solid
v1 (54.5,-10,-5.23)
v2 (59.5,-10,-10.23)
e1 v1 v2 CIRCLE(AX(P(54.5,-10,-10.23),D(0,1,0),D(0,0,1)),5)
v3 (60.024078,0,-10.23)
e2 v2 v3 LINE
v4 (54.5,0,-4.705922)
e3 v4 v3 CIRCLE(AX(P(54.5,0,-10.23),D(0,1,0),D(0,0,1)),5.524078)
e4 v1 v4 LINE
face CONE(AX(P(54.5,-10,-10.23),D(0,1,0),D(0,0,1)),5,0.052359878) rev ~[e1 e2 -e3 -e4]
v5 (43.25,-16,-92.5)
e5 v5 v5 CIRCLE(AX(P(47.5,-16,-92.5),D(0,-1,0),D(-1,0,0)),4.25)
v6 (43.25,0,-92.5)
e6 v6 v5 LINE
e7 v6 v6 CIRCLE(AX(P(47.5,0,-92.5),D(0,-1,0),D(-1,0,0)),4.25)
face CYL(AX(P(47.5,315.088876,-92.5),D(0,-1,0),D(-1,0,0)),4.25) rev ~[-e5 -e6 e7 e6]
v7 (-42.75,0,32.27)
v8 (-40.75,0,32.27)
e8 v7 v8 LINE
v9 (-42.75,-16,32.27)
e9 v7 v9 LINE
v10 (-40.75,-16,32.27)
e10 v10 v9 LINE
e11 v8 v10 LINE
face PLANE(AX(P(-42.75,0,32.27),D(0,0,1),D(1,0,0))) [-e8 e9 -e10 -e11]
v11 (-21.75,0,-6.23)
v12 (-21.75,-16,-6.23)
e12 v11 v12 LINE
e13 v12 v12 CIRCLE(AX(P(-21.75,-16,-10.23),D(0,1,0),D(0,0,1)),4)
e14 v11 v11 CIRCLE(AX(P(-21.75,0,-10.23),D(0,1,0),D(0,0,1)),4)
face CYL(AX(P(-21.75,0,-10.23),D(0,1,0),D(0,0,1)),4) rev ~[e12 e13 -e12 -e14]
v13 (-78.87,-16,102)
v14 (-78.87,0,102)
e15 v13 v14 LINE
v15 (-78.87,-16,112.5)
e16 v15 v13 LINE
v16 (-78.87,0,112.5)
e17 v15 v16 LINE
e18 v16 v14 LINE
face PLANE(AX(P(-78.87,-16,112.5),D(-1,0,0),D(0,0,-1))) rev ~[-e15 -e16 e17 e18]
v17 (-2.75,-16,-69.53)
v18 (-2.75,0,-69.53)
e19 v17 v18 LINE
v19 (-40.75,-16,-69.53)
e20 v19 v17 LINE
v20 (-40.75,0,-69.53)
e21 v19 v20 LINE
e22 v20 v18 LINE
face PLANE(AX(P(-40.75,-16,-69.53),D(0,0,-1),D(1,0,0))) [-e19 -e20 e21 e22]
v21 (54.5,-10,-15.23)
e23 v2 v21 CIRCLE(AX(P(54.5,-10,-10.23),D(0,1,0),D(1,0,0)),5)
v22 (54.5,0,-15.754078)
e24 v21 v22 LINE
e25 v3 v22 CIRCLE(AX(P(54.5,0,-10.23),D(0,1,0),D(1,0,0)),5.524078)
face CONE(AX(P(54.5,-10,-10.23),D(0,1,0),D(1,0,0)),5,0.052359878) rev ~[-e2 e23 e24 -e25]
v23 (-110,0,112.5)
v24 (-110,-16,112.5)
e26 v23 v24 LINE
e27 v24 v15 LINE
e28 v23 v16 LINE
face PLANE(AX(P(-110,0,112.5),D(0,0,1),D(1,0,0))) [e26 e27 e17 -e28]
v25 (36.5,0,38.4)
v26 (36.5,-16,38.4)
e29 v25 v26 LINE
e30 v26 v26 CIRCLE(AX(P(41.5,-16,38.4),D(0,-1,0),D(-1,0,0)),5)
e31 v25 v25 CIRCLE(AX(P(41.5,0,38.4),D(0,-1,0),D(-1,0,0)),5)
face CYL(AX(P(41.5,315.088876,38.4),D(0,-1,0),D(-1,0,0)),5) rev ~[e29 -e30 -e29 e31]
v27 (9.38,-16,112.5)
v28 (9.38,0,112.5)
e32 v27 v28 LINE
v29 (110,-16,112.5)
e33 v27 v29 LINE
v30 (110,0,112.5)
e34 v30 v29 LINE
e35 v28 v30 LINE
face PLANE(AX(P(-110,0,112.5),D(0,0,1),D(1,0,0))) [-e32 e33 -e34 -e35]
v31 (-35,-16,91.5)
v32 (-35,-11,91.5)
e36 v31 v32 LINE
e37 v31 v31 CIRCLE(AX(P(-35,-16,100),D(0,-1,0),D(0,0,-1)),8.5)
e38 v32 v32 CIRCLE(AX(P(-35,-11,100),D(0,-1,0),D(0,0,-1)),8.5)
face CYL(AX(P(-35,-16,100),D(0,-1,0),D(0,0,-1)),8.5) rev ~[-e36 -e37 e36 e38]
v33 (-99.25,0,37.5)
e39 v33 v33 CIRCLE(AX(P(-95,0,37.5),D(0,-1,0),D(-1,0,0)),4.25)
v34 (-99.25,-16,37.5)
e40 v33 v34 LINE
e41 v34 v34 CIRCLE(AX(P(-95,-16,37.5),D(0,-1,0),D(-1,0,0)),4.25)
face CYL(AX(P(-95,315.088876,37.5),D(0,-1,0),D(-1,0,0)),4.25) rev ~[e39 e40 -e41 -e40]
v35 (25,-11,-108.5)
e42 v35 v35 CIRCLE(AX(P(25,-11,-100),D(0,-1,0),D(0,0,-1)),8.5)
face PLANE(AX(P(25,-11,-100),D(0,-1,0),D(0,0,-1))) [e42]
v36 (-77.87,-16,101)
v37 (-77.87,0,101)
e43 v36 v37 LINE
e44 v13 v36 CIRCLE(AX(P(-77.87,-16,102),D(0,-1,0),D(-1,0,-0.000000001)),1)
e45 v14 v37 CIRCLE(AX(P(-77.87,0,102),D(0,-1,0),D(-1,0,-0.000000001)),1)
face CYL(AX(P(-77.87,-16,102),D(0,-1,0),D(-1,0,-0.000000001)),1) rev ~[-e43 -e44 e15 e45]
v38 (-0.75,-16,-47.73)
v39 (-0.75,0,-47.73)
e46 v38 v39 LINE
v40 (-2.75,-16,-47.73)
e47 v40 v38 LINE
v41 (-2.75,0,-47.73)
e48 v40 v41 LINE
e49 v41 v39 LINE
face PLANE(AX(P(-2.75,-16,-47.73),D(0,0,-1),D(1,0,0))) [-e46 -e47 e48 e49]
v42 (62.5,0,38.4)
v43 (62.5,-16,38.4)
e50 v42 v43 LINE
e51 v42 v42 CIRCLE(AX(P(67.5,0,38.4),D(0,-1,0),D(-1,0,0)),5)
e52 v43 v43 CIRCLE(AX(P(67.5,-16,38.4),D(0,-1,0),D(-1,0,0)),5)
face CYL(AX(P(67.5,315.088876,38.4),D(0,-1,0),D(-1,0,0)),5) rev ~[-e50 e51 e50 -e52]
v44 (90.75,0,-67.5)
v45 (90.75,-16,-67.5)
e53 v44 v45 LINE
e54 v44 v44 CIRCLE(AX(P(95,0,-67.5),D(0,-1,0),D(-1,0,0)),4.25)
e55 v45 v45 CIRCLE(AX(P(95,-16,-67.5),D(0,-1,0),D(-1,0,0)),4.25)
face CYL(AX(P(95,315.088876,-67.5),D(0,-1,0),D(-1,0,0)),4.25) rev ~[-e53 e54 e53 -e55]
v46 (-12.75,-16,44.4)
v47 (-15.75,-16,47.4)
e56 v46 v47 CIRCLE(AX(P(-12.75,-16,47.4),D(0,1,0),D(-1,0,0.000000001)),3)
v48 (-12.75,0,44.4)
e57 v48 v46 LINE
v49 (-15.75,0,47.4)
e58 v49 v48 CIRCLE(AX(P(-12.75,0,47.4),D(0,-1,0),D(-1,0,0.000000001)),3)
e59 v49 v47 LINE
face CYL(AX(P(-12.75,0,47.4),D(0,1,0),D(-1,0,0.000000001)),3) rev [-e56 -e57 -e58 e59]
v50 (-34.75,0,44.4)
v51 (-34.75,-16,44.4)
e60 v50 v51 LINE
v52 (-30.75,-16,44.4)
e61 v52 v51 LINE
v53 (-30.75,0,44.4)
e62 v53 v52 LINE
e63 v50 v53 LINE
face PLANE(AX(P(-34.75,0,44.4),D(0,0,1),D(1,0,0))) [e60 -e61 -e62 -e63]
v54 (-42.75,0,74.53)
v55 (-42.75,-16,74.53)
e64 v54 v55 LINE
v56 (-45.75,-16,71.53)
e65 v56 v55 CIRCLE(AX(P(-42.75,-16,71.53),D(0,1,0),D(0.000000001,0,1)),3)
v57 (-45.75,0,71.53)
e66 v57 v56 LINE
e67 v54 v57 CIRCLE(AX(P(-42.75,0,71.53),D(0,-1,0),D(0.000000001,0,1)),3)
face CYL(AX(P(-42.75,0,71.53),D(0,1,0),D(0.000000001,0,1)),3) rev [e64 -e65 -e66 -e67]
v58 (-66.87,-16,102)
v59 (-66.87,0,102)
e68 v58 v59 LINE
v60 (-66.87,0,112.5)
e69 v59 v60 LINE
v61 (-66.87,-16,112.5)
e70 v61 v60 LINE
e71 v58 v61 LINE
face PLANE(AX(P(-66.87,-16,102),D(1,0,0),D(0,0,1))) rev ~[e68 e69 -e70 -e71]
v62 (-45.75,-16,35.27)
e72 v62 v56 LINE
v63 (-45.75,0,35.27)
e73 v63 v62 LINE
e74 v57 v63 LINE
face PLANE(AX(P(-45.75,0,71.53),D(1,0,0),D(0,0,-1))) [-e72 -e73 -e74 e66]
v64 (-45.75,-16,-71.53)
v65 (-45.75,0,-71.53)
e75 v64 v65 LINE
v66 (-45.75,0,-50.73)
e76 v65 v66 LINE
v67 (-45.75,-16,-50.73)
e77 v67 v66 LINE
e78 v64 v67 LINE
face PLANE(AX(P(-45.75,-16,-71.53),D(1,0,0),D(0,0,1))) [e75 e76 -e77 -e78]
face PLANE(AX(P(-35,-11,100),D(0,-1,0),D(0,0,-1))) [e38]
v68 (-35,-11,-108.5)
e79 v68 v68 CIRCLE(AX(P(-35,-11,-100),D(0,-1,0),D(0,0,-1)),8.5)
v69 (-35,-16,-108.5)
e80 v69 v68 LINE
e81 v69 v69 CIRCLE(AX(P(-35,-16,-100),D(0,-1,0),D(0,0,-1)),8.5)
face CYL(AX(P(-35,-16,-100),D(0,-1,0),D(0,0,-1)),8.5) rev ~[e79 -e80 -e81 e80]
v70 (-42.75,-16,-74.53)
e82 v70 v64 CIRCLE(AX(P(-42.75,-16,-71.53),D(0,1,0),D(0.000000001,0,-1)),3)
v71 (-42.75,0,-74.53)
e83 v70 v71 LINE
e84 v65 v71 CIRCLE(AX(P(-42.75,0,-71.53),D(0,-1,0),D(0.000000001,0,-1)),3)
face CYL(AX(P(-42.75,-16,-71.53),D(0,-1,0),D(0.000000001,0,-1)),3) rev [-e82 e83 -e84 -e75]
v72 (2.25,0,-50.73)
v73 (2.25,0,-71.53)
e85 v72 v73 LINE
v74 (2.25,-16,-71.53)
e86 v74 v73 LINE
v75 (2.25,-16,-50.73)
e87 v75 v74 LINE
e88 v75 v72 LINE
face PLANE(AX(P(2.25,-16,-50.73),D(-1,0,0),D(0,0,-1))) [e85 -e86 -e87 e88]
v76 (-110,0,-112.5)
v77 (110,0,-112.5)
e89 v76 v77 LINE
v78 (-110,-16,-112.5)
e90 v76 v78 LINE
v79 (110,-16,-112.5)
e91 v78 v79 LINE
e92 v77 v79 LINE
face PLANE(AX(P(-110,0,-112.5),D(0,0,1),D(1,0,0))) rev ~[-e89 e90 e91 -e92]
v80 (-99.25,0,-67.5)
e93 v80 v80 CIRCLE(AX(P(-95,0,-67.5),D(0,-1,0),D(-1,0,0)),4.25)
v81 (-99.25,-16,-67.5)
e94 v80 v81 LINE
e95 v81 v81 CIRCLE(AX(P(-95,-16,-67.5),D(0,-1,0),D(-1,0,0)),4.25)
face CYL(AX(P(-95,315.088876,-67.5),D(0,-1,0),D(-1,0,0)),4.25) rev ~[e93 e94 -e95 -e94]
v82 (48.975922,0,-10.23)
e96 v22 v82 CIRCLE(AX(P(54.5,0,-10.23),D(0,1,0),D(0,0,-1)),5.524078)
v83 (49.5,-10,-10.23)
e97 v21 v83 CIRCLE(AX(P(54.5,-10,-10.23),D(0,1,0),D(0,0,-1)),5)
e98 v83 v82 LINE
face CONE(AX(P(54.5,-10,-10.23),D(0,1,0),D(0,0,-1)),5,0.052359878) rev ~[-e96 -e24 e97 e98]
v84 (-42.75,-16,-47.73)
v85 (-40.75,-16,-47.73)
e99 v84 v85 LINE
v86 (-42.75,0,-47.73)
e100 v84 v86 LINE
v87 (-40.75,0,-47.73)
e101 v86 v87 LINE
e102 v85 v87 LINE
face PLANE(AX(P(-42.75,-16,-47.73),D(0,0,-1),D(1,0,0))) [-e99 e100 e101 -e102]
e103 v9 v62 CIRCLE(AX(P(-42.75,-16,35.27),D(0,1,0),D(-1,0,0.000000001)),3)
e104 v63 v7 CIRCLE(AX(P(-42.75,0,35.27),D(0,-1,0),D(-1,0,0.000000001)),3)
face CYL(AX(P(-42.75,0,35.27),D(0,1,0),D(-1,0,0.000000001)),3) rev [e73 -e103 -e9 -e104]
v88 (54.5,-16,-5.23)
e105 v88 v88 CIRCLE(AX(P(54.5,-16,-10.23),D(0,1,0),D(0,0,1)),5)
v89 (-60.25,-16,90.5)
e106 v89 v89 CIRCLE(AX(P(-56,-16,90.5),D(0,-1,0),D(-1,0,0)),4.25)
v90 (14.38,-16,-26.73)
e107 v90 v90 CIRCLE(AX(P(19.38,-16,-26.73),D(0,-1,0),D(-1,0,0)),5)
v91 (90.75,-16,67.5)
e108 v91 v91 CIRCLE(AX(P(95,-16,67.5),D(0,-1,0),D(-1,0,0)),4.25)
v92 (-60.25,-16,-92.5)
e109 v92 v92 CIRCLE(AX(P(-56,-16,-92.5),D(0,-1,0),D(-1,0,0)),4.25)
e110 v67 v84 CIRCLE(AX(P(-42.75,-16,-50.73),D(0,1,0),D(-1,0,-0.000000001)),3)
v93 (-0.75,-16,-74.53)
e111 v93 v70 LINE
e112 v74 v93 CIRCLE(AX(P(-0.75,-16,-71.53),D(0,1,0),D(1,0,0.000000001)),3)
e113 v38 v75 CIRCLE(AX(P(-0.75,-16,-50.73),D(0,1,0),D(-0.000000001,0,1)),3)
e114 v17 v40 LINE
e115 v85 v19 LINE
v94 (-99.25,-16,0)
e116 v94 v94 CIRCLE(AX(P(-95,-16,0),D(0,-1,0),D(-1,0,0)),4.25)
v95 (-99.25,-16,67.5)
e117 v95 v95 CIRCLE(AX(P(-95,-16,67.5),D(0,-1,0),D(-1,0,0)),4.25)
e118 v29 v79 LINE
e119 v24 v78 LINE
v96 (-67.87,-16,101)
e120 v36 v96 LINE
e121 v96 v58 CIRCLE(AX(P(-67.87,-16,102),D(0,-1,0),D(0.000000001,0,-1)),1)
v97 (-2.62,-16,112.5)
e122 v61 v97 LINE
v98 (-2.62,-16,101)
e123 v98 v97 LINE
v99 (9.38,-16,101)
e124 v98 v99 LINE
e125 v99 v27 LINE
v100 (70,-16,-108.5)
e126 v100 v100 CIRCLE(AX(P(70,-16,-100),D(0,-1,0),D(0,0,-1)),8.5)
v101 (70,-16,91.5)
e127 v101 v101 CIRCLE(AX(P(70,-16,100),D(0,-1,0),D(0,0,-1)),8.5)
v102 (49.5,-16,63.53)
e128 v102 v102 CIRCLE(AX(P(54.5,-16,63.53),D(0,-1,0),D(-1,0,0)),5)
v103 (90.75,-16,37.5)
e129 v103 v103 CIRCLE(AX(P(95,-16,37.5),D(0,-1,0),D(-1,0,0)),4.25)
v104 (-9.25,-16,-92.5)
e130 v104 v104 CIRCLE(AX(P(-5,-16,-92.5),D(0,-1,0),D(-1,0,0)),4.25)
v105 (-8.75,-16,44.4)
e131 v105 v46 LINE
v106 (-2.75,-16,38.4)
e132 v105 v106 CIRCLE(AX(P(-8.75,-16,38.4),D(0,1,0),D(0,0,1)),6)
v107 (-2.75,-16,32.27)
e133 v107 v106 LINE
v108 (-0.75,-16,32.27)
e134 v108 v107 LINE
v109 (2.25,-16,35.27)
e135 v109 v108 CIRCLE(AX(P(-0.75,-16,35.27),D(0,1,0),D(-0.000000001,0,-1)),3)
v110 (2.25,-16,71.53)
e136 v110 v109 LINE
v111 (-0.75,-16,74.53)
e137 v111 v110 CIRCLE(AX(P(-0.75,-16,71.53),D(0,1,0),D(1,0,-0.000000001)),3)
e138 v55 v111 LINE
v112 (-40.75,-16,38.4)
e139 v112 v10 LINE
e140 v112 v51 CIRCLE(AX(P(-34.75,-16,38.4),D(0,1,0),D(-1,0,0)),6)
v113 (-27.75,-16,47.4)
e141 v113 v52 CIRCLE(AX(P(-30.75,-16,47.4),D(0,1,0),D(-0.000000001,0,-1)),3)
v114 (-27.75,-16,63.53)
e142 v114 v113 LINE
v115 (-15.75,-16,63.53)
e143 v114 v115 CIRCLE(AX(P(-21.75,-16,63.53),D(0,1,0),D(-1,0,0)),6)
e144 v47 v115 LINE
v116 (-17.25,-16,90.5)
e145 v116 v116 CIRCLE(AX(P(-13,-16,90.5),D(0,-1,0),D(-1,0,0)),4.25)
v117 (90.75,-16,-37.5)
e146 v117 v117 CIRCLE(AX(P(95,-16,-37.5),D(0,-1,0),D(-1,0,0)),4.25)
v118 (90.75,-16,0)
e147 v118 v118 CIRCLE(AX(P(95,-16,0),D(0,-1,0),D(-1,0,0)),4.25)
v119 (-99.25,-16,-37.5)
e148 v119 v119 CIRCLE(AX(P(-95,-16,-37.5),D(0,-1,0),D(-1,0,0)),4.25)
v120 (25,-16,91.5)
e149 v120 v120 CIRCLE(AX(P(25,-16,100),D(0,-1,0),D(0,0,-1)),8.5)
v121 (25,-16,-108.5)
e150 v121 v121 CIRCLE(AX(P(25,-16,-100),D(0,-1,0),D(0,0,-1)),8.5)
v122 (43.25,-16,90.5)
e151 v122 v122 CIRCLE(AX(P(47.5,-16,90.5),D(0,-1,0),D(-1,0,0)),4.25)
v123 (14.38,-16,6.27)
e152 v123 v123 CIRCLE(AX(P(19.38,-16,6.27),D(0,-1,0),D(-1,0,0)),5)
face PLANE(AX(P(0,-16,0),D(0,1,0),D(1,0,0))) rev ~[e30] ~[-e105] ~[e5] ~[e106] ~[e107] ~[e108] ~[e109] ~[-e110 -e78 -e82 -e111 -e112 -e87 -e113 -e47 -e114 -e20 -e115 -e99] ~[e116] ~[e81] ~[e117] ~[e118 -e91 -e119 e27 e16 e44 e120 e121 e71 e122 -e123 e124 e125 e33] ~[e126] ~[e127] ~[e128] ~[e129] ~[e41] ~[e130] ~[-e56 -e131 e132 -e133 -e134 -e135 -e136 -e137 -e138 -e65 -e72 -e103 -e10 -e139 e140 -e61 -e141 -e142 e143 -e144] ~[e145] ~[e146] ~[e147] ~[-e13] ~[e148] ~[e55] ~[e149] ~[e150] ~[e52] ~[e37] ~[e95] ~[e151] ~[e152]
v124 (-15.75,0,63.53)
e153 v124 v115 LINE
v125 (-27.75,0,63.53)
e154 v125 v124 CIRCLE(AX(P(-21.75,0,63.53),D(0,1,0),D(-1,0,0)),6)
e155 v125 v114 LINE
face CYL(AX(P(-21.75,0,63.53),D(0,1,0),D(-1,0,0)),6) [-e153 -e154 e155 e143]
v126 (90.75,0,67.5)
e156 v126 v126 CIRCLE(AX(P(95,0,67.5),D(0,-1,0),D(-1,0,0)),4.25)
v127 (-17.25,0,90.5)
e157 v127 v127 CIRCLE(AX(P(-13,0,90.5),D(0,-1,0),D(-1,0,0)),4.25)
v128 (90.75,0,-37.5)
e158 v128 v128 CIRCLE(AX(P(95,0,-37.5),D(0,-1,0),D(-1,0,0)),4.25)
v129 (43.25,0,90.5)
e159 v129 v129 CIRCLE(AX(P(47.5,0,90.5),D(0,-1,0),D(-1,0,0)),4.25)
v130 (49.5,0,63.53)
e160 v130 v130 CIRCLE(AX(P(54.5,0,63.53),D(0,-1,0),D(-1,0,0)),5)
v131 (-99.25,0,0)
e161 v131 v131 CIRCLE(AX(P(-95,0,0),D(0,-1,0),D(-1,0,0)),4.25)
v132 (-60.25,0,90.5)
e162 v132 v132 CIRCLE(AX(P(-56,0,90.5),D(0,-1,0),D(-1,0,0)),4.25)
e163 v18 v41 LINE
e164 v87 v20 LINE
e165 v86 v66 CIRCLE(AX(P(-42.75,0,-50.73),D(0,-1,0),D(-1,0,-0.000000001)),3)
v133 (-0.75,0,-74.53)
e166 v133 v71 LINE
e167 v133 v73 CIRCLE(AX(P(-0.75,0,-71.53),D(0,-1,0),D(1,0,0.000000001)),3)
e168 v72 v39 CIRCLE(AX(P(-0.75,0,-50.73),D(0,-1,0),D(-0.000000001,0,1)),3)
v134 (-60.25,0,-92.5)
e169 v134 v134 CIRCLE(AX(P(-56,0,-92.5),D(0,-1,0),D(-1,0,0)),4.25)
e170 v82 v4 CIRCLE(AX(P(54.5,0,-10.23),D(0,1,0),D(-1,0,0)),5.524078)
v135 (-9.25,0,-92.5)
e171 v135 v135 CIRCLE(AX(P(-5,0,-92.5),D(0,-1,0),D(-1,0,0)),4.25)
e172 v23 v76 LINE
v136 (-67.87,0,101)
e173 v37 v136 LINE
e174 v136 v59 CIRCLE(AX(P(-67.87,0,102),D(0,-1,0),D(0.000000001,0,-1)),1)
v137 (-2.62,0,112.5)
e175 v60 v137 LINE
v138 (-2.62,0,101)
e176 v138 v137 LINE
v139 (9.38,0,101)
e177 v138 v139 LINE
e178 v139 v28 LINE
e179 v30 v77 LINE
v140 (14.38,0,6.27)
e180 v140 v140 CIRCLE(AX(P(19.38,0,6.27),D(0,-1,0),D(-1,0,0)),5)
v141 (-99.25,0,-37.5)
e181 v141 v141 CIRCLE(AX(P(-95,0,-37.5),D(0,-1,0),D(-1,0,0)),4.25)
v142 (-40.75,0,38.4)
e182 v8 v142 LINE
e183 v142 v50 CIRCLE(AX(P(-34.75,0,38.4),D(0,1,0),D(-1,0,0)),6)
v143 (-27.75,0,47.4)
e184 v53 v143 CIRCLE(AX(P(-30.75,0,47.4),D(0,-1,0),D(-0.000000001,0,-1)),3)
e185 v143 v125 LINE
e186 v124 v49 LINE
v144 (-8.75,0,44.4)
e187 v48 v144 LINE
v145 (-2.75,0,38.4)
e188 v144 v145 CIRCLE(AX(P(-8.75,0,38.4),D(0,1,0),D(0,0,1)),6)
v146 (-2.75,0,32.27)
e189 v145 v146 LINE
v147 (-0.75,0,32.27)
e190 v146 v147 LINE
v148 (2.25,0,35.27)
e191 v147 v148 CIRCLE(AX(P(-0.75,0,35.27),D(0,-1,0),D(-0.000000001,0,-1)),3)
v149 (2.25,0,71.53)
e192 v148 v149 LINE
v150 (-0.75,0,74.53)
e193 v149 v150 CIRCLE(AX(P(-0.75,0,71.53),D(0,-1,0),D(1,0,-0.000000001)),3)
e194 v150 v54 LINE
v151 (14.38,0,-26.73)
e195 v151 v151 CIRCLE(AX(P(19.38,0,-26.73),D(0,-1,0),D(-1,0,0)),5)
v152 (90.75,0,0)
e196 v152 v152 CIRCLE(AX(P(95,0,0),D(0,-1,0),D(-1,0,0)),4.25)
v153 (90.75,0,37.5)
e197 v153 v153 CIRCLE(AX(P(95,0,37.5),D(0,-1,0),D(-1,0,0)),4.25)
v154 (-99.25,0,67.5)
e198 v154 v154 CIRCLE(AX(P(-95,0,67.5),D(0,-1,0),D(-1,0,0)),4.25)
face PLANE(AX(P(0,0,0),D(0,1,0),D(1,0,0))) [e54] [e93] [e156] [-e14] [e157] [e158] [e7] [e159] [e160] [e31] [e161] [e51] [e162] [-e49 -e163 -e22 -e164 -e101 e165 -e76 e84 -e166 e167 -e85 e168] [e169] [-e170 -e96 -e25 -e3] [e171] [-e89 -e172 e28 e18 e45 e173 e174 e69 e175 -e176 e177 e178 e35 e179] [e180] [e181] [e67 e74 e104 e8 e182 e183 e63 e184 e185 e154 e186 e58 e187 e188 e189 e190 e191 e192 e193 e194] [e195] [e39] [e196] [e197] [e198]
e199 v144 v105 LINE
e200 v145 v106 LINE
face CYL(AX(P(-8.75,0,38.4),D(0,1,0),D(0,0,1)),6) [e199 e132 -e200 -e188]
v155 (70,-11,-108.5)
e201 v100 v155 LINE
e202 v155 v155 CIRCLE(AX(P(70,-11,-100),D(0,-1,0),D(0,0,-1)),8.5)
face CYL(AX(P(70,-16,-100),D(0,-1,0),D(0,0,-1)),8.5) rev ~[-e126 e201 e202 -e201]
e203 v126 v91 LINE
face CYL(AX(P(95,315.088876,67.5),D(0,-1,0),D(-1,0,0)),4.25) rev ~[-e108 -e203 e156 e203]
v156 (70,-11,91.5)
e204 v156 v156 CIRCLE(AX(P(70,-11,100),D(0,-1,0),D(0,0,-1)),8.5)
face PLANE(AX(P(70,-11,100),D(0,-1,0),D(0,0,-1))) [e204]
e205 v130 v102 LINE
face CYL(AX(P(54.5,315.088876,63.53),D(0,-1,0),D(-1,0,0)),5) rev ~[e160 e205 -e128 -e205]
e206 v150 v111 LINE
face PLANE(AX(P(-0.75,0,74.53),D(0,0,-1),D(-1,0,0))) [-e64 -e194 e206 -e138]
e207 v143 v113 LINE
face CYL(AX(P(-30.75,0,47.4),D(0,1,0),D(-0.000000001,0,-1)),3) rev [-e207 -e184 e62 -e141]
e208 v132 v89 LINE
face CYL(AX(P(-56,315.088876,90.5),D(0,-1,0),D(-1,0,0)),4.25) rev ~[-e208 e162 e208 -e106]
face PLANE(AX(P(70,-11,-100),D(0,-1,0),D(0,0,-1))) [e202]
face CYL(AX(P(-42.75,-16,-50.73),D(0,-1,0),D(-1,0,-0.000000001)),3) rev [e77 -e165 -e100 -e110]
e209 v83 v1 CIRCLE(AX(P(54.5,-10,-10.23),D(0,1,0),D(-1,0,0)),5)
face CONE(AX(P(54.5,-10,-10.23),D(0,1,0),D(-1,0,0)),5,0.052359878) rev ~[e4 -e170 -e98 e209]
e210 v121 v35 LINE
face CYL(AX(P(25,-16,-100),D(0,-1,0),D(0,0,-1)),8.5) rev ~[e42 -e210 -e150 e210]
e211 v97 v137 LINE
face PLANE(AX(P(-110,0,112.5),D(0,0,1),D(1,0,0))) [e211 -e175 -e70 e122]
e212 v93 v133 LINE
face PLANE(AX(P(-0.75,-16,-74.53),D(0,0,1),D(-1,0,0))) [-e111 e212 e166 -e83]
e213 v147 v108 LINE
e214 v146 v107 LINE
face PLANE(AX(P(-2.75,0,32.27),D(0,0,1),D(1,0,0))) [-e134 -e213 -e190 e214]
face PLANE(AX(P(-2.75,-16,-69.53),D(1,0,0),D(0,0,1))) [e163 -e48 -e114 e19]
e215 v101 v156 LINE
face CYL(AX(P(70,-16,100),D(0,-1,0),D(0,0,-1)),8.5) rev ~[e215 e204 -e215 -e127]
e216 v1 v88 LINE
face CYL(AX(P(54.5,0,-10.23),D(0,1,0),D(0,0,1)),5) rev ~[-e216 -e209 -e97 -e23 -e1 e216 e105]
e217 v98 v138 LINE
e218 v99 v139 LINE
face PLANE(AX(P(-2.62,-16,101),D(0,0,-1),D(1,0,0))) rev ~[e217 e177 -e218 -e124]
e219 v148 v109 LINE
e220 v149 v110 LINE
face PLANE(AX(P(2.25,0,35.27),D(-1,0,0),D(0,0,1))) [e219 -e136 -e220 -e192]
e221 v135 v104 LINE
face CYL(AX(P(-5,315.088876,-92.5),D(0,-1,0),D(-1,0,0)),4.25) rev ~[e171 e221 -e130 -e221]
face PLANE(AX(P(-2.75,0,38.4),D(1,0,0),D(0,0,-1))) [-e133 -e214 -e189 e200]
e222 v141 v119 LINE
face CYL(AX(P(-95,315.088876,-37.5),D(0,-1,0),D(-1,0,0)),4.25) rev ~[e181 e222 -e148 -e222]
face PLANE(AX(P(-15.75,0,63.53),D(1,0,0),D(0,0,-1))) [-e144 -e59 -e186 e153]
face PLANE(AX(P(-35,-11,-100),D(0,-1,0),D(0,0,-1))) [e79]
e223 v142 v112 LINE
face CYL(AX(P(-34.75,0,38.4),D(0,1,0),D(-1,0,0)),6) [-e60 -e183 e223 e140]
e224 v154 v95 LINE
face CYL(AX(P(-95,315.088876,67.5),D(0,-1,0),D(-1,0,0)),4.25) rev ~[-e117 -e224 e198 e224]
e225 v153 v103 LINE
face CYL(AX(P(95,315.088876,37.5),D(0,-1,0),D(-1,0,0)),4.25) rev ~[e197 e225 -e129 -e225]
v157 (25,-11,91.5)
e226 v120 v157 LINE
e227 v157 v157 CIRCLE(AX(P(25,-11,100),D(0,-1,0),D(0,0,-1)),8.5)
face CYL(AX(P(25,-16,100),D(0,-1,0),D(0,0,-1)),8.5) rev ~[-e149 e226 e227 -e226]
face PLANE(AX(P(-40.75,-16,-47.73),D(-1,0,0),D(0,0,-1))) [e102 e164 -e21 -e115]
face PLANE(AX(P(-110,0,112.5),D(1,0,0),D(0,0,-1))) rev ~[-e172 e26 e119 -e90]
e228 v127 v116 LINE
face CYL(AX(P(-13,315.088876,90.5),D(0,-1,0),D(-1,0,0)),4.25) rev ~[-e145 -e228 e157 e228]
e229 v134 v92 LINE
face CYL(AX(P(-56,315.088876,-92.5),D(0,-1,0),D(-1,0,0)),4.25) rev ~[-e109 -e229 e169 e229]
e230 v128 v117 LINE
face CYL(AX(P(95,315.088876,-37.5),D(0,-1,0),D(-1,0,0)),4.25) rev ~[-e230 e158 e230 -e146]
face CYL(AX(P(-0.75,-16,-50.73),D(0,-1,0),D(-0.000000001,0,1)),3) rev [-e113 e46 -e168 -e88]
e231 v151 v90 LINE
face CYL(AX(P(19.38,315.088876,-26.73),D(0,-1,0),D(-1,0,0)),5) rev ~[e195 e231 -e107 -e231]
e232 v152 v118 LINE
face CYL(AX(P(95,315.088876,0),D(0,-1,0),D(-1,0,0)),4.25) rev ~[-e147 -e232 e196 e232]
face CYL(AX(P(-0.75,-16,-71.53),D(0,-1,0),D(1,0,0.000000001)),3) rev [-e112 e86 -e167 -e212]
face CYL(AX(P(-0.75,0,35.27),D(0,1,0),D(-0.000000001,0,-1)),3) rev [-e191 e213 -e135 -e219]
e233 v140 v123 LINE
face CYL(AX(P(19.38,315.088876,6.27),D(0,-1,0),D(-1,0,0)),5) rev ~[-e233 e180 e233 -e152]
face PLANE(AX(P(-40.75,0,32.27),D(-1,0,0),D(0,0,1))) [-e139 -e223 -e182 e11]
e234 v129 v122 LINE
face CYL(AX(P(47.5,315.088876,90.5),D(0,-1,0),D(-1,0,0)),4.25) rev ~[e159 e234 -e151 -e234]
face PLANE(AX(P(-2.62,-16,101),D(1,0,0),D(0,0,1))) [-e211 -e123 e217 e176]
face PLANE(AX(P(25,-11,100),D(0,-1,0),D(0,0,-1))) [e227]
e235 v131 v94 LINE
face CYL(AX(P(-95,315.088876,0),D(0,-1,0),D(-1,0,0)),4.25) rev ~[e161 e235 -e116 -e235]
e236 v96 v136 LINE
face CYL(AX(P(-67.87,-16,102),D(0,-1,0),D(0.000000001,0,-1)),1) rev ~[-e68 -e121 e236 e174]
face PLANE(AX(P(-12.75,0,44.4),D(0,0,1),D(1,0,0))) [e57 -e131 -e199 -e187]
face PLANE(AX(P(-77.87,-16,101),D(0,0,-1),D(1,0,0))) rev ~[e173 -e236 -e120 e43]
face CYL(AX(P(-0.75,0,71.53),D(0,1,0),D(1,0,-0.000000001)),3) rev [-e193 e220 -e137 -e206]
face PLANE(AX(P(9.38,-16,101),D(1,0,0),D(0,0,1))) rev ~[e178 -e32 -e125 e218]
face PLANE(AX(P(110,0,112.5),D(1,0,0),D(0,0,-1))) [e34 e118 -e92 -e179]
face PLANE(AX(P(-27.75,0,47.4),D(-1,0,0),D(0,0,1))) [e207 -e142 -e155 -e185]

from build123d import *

# Parameters (mm, degrees)
SKETCH1_W              = 220
SKETCH1_H              = 225
BOSS_EXTRUDE1_DEPTH    = 16
CUT_EXTRUDE1_REACH     = 160.153
SKETCH2_R              = 4
CUT_EXTRUDE2_REACH     = 160.153
SKETCH3_W              = 12
SKETCH3_H              = 11.5
SKETCH4_R              = 8.5
CUT_EXTRUDE3_DEPTH     = 5
M10_TAPPED_HOLE2_D     = 8.5
M10_TAPPED_HOLE3_D     = 8.5
M10_TAPPED_HOLE4_D     = 8.5
CUT_EXTRUDE4_REACH     = 160.153
CUT_EXTRUDE6_REACH     = 160.153
F_10_0MM_DOWEL_HOLE1_D = 10
CUT_EXTRUDE7_REACH     = 160.153
SKETCH34_R             = 5


with BuildPart() as part:
    # Sketch1 → Boss-Extrude1 (new body)
    with BuildSketch(Plane(origin=(0, 0, 0), x_dir=(1, 0, 0), z_dir=(0, 1, 0))):
        Rectangle(SKETCH1_W, SKETCH1_H)
    extrude(amount=-BOSS_EXTRUDE1_DEPTH)

    # Sketch2 → Cut-Extrude1 (cut, up to next)
    with BuildSketch(Plane(origin=(0, 0, 0), x_dir=(1, 0, 0), z_dir=(0, 1, 0)), mode=Mode.PRIVATE) as cut_extrude1_sk1:
        with Locations(Location((-21.75, 10.23, 0), (0, 0, 270))):
            Circle(SKETCH2_R)
    cut_extrude1_tool1 = extrude(cut_extrude1_sk1.sketch, amount=-CUT_EXTRUDE1_REACH, mode=Mode.PRIVATE) & part.part
    add(cut_extrude1_tool1.solids().sort_by_distance((-21.75, 0, -10.23))[0], mode=Mode.SUBTRACT)

    # Sketch3 → Cut-Extrude2 (cut, up to next)
    with BuildSketch(Plane.XZ.offset(16), mode=Mode.PRIVATE) as cut_extrude2_sk1:
        with BuildLine():
            Line((-77.87, 101), (-67.87, 101))
            ThreePointArc((-67.87, 101), (-67.162893219, 101.292893219), (-66.87, 102))
            Line((-66.87, 102), (-66.87, 112.5))
            Line((-66.87, 112.5), (-78.87, 112.5))
            Line((-78.87, 112.5), (-78.87, 102))
            ThreePointArc((-78.87, 102), (-78.577106781, 101.292893219), (-77.87, 101))
        make_face()
    cut_extrude2_tool1 = extrude(cut_extrude2_sk1.sketch, amount=-CUT_EXTRUDE2_REACH, mode=Mode.PRIVATE) & part.part
    # Sketch3 → Cut-Extrude2 (cut, up to next)
    with BuildSketch(Plane.XZ.offset(16), mode=Mode.PRIVATE) as cut_extrude2_sk2:
        with Locations((3.38, 106.75)):
            Rectangle(SKETCH3_W, SKETCH3_H)
    cut_extrude2_tool2 = extrude(cut_extrude2_sk2.sketch, amount=-CUT_EXTRUDE2_REACH, mode=Mode.PRIVATE) & part.part
    add(cut_extrude2_tool1.solids().sort_by_distance((-72.87, -16, 106.767242))[0], mode=Mode.SUBTRACT)
    add(cut_extrude2_tool2.solids().sort_by_distance((3.38, -16, 106.75))[0], mode=Mode.SUBTRACT)

    # Sketch4 → Cut-Extrude3 (cut)
    with BuildSketch(Plane.XZ.offset(16)):
        with Locations(Location((-35, 100, 0), (0, 0, 270))):
            Circle(SKETCH4_R)
        with Locations(Location((25, 100, 0), (0, 0, 270))):
            Circle(SKETCH4_R)
        with Locations(Location((70, 100, 0), (0, 0, 270))):
            Circle(SKETCH4_R)
        with Locations(Location((-35, -100, 0), (0, 0, 270))):
            Circle(SKETCH4_R)
        with Locations(Location((25, -100, 0), (0, 0, 270))):
            Circle(SKETCH4_R)
        with Locations(Location((70, -100, 0), (0, 0, 270))):
            Circle(SKETCH4_R)
    extrude(amount=-CUT_EXTRUDE3_DEPTH, mode=Mode.SUBTRACT)

    # M10 Tapped Hole2 (through all)
    with Locations(Plane(origin=(0, 0, 0), x_dir=(1, 0, 0), z_dir=(0, 1, 0))):
        with Locations((-95, -67.5), (-95, -37.5), (-95, 0), (-95, 37.5), (-95, 67.5), (95, 67.5), (95, 37.5), (95, 0), (95, -37.5), (95, -67.5)):
            Hole(M10_TAPPED_HOLE2_D / 2)

    # M10 Tapped Hole3 (through all)
    with Locations(Plane(origin=(0, 0, 0), x_dir=(1, 0, 0), z_dir=(0, 1, 0))):
        with Locations((-56, 92.5), (-5, 92.5), (47.5, 92.5)):
            Hole(M10_TAPPED_HOLE3_D / 2)

    # M10 Tapped Hole4 (through all)
    with Locations(Plane(origin=(0, 0, 0), x_dir=(1, 0, 0), z_dir=(0, 1, 0))):
        with Locations((-13, -90.5), (47.5, -90.5), (-56, -90.5)):
            Hole(M10_TAPPED_HOLE4_D / 2)

    # Sketch24 → Cut-Extrude4 (cut, up to next)
    with BuildSketch(Plane(origin=(0, 0, 0), x_dir=(1, 0, 0), z_dir=(0, 1, 0)), mode=Mode.PRIVATE) as cut_extrude4_sk1:
        with BuildLine():
            Line((2.25, -35.27), (2.25, -71.53))
            ThreePointArc((2.25, -71.53), (1.371320344, -73.651320344), (-0.75, -74.53))
            Line((-0.75, -74.53), (-42.75, -74.53))
            ThreePointArc((-42.75, -74.53), (-44.871320344, -73.651320344), (-45.75, -71.53))
            Line((-45.75, -71.53), (-45.75, -35.27))
            ThreePointArc((-45.75, -35.27), (-44.871320344, -33.148679656), (-42.75, -32.27))
            Line((-42.75, -32.27), (-40.75, -32.27))
            Line((-40.75, -32.27), (-40.75, -38.4))
            ThreePointArc((-40.75, -38.4), (-38.992640687, -42.642640687), (-34.75, -44.4))
            Line((-34.75, -44.4), (-30.75, -44.4))
            ThreePointArc((-30.75, -44.4), (-28.628679656, -45.278679656), (-27.75, -47.4))
            Line((-27.75, -47.4), (-27.75, -63.53))
            ThreePointArc((-27.75, -63.53), (-21.75, -69.53), (-15.75, -63.53))
            Line((-15.75, -63.53), (-15.75, -47.4))
            ThreePointArc((-15.75, -47.4), (-14.871320344, -45.278679656), (-12.75, -44.4))
            Line((-12.75, -44.4), (-8.75, -44.4))
            ThreePointArc((-8.75, -44.4), (-4.507359313, -42.642640687), (-2.75, -38.4))
            Line((-2.75, -38.4), (-2.75, -32.27))
            Line((-2.75, -32.27), (-0.75, -32.27))
            ThreePointArc((-0.75, -32.27), (1.371320344, -33.148679656), (2.25, -35.27))
        make_face()
    cut_extrude4_tool1 = extrude(cut_extrude4_sk1.sketch, amount=-CUT_EXTRUDE4_REACH, mode=Mode.PRIVATE) & part.part
    add(cut_extrude4_tool1.solids().sort_by_distance((-15.110476, 0, 55.465))[0], mode=Mode.SUBTRACT)

    # Sketch29 → Cut-Extrude6 (cut, up to next)
    with BuildSketch(Plane.XZ.offset(16), mode=Mode.PRIVATE) as cut_extrude6_sk1:
        with BuildLine():
            Line((-2.75, -47.73), (-0.75, -47.73))
            ThreePointArc((-0.75, -47.73), (1.371320344, -48.608679656), (2.25, -50.73))
            Line((2.25, -50.73), (2.25, -71.53))
            ThreePointArc((2.25, -71.53), (1.371320344, -73.651320344), (-0.75, -74.53))
            Line((-0.75, -74.53), (-42.75, -74.53))
            ThreePointArc((-42.75, -74.53), (-44.871320344, -73.651320344), (-45.75, -71.53))
            Line((-45.75, -71.53), (-45.75, -50.73))
            ThreePointArc((-45.75, -50.73), (-44.871320344, -48.608679656), (-42.75, -47.73))
            Line((-42.75, -47.73), (-40.75, -47.73))
            Line((-40.75, -47.73), (-40.75, -69.53))
            Line((-40.75, -69.53), (-2.75, -69.53))
            Line((-2.75, -69.53), (-2.75, -47.73))
        make_face()
    cut_extrude6_tool1 = extrude(cut_extrude6_sk1.sketch, amount=-CUT_EXTRUDE6_REACH, mode=Mode.PRIVATE) & part.part
    add(cut_extrude6_tool1.solids().sort_by_distance((-1.75, -16, -48.279749))[0], mode=Mode.SUBTRACT)

    # Ø10.0mm Dowel Hole1 (through all)
    with Locations(Plane(origin=(0, 0, 0), x_dir=(1, 0, 0), z_dir=(0, 1, 0))):
        with Locations((54.5, -63.53), (67.5, -38.4), (41.5, -38.4), (19.38, 26.73), (19.38, -6.27)):
            Hole(F_10_0MM_DOWEL_HOLE1_D / 2)

    # Sketch34 → Cut-Extrude7 (cut, up to next)
    with BuildSketch(Plane(origin=(0, 0, 0), x_dir=(1, 0, 0), z_dir=(0, 1, 0)), mode=Mode.PRIVATE) as cut_extrude7_sk1:
        with Locations(Location((54.5, 10.23, 0), (0, 0, 270))):
            Circle(SKETCH34_R)
    cut_extrude7_tool1 = extrude(cut_extrude7_sk1.sketch, amount=-CUT_EXTRUDE7_REACH, mode=Mode.PRIVATE) & part.part
    add(cut_extrude7_tool1.solids().sort_by_distance((54.5, 0, -10.23))[0], mode=Mode.SUBTRACT)

    # Cut-Sweep1: sweep along a curve in space
    with BuildLine() as cut_sweep1_path:
        ThreePointArc((54.5, 0, -5.23), (58.035533906, 0, -6.694466094), (59.5, 0, -10.23))
        ThreePointArc((59.5, 0, -10.23), (58.035533906, 0, -13.765533906), (54.5, 0, -15.23))
        ThreePointArc((54.5, 0, -15.23), (50.964466094, 0, -13.765533906), (49.5, 0, -10.23))
        ThreePointArc((49.5, 0, -10.23), (50.964466094, 0, -6.694466094), (54.5, 0, -5.23))
    # Sketch35 → Cut-Sweep1 (sweep, cut)
    with BuildSketch(Plane.XY.offset(-10.23)):
        Polygon((59.5, -10), (60.024077793, 0), (59.5, 0), align=None)
    sweep(path=cut_sweep1_path.line, mode=Mode.SUBTRACT)


solid = part.part
